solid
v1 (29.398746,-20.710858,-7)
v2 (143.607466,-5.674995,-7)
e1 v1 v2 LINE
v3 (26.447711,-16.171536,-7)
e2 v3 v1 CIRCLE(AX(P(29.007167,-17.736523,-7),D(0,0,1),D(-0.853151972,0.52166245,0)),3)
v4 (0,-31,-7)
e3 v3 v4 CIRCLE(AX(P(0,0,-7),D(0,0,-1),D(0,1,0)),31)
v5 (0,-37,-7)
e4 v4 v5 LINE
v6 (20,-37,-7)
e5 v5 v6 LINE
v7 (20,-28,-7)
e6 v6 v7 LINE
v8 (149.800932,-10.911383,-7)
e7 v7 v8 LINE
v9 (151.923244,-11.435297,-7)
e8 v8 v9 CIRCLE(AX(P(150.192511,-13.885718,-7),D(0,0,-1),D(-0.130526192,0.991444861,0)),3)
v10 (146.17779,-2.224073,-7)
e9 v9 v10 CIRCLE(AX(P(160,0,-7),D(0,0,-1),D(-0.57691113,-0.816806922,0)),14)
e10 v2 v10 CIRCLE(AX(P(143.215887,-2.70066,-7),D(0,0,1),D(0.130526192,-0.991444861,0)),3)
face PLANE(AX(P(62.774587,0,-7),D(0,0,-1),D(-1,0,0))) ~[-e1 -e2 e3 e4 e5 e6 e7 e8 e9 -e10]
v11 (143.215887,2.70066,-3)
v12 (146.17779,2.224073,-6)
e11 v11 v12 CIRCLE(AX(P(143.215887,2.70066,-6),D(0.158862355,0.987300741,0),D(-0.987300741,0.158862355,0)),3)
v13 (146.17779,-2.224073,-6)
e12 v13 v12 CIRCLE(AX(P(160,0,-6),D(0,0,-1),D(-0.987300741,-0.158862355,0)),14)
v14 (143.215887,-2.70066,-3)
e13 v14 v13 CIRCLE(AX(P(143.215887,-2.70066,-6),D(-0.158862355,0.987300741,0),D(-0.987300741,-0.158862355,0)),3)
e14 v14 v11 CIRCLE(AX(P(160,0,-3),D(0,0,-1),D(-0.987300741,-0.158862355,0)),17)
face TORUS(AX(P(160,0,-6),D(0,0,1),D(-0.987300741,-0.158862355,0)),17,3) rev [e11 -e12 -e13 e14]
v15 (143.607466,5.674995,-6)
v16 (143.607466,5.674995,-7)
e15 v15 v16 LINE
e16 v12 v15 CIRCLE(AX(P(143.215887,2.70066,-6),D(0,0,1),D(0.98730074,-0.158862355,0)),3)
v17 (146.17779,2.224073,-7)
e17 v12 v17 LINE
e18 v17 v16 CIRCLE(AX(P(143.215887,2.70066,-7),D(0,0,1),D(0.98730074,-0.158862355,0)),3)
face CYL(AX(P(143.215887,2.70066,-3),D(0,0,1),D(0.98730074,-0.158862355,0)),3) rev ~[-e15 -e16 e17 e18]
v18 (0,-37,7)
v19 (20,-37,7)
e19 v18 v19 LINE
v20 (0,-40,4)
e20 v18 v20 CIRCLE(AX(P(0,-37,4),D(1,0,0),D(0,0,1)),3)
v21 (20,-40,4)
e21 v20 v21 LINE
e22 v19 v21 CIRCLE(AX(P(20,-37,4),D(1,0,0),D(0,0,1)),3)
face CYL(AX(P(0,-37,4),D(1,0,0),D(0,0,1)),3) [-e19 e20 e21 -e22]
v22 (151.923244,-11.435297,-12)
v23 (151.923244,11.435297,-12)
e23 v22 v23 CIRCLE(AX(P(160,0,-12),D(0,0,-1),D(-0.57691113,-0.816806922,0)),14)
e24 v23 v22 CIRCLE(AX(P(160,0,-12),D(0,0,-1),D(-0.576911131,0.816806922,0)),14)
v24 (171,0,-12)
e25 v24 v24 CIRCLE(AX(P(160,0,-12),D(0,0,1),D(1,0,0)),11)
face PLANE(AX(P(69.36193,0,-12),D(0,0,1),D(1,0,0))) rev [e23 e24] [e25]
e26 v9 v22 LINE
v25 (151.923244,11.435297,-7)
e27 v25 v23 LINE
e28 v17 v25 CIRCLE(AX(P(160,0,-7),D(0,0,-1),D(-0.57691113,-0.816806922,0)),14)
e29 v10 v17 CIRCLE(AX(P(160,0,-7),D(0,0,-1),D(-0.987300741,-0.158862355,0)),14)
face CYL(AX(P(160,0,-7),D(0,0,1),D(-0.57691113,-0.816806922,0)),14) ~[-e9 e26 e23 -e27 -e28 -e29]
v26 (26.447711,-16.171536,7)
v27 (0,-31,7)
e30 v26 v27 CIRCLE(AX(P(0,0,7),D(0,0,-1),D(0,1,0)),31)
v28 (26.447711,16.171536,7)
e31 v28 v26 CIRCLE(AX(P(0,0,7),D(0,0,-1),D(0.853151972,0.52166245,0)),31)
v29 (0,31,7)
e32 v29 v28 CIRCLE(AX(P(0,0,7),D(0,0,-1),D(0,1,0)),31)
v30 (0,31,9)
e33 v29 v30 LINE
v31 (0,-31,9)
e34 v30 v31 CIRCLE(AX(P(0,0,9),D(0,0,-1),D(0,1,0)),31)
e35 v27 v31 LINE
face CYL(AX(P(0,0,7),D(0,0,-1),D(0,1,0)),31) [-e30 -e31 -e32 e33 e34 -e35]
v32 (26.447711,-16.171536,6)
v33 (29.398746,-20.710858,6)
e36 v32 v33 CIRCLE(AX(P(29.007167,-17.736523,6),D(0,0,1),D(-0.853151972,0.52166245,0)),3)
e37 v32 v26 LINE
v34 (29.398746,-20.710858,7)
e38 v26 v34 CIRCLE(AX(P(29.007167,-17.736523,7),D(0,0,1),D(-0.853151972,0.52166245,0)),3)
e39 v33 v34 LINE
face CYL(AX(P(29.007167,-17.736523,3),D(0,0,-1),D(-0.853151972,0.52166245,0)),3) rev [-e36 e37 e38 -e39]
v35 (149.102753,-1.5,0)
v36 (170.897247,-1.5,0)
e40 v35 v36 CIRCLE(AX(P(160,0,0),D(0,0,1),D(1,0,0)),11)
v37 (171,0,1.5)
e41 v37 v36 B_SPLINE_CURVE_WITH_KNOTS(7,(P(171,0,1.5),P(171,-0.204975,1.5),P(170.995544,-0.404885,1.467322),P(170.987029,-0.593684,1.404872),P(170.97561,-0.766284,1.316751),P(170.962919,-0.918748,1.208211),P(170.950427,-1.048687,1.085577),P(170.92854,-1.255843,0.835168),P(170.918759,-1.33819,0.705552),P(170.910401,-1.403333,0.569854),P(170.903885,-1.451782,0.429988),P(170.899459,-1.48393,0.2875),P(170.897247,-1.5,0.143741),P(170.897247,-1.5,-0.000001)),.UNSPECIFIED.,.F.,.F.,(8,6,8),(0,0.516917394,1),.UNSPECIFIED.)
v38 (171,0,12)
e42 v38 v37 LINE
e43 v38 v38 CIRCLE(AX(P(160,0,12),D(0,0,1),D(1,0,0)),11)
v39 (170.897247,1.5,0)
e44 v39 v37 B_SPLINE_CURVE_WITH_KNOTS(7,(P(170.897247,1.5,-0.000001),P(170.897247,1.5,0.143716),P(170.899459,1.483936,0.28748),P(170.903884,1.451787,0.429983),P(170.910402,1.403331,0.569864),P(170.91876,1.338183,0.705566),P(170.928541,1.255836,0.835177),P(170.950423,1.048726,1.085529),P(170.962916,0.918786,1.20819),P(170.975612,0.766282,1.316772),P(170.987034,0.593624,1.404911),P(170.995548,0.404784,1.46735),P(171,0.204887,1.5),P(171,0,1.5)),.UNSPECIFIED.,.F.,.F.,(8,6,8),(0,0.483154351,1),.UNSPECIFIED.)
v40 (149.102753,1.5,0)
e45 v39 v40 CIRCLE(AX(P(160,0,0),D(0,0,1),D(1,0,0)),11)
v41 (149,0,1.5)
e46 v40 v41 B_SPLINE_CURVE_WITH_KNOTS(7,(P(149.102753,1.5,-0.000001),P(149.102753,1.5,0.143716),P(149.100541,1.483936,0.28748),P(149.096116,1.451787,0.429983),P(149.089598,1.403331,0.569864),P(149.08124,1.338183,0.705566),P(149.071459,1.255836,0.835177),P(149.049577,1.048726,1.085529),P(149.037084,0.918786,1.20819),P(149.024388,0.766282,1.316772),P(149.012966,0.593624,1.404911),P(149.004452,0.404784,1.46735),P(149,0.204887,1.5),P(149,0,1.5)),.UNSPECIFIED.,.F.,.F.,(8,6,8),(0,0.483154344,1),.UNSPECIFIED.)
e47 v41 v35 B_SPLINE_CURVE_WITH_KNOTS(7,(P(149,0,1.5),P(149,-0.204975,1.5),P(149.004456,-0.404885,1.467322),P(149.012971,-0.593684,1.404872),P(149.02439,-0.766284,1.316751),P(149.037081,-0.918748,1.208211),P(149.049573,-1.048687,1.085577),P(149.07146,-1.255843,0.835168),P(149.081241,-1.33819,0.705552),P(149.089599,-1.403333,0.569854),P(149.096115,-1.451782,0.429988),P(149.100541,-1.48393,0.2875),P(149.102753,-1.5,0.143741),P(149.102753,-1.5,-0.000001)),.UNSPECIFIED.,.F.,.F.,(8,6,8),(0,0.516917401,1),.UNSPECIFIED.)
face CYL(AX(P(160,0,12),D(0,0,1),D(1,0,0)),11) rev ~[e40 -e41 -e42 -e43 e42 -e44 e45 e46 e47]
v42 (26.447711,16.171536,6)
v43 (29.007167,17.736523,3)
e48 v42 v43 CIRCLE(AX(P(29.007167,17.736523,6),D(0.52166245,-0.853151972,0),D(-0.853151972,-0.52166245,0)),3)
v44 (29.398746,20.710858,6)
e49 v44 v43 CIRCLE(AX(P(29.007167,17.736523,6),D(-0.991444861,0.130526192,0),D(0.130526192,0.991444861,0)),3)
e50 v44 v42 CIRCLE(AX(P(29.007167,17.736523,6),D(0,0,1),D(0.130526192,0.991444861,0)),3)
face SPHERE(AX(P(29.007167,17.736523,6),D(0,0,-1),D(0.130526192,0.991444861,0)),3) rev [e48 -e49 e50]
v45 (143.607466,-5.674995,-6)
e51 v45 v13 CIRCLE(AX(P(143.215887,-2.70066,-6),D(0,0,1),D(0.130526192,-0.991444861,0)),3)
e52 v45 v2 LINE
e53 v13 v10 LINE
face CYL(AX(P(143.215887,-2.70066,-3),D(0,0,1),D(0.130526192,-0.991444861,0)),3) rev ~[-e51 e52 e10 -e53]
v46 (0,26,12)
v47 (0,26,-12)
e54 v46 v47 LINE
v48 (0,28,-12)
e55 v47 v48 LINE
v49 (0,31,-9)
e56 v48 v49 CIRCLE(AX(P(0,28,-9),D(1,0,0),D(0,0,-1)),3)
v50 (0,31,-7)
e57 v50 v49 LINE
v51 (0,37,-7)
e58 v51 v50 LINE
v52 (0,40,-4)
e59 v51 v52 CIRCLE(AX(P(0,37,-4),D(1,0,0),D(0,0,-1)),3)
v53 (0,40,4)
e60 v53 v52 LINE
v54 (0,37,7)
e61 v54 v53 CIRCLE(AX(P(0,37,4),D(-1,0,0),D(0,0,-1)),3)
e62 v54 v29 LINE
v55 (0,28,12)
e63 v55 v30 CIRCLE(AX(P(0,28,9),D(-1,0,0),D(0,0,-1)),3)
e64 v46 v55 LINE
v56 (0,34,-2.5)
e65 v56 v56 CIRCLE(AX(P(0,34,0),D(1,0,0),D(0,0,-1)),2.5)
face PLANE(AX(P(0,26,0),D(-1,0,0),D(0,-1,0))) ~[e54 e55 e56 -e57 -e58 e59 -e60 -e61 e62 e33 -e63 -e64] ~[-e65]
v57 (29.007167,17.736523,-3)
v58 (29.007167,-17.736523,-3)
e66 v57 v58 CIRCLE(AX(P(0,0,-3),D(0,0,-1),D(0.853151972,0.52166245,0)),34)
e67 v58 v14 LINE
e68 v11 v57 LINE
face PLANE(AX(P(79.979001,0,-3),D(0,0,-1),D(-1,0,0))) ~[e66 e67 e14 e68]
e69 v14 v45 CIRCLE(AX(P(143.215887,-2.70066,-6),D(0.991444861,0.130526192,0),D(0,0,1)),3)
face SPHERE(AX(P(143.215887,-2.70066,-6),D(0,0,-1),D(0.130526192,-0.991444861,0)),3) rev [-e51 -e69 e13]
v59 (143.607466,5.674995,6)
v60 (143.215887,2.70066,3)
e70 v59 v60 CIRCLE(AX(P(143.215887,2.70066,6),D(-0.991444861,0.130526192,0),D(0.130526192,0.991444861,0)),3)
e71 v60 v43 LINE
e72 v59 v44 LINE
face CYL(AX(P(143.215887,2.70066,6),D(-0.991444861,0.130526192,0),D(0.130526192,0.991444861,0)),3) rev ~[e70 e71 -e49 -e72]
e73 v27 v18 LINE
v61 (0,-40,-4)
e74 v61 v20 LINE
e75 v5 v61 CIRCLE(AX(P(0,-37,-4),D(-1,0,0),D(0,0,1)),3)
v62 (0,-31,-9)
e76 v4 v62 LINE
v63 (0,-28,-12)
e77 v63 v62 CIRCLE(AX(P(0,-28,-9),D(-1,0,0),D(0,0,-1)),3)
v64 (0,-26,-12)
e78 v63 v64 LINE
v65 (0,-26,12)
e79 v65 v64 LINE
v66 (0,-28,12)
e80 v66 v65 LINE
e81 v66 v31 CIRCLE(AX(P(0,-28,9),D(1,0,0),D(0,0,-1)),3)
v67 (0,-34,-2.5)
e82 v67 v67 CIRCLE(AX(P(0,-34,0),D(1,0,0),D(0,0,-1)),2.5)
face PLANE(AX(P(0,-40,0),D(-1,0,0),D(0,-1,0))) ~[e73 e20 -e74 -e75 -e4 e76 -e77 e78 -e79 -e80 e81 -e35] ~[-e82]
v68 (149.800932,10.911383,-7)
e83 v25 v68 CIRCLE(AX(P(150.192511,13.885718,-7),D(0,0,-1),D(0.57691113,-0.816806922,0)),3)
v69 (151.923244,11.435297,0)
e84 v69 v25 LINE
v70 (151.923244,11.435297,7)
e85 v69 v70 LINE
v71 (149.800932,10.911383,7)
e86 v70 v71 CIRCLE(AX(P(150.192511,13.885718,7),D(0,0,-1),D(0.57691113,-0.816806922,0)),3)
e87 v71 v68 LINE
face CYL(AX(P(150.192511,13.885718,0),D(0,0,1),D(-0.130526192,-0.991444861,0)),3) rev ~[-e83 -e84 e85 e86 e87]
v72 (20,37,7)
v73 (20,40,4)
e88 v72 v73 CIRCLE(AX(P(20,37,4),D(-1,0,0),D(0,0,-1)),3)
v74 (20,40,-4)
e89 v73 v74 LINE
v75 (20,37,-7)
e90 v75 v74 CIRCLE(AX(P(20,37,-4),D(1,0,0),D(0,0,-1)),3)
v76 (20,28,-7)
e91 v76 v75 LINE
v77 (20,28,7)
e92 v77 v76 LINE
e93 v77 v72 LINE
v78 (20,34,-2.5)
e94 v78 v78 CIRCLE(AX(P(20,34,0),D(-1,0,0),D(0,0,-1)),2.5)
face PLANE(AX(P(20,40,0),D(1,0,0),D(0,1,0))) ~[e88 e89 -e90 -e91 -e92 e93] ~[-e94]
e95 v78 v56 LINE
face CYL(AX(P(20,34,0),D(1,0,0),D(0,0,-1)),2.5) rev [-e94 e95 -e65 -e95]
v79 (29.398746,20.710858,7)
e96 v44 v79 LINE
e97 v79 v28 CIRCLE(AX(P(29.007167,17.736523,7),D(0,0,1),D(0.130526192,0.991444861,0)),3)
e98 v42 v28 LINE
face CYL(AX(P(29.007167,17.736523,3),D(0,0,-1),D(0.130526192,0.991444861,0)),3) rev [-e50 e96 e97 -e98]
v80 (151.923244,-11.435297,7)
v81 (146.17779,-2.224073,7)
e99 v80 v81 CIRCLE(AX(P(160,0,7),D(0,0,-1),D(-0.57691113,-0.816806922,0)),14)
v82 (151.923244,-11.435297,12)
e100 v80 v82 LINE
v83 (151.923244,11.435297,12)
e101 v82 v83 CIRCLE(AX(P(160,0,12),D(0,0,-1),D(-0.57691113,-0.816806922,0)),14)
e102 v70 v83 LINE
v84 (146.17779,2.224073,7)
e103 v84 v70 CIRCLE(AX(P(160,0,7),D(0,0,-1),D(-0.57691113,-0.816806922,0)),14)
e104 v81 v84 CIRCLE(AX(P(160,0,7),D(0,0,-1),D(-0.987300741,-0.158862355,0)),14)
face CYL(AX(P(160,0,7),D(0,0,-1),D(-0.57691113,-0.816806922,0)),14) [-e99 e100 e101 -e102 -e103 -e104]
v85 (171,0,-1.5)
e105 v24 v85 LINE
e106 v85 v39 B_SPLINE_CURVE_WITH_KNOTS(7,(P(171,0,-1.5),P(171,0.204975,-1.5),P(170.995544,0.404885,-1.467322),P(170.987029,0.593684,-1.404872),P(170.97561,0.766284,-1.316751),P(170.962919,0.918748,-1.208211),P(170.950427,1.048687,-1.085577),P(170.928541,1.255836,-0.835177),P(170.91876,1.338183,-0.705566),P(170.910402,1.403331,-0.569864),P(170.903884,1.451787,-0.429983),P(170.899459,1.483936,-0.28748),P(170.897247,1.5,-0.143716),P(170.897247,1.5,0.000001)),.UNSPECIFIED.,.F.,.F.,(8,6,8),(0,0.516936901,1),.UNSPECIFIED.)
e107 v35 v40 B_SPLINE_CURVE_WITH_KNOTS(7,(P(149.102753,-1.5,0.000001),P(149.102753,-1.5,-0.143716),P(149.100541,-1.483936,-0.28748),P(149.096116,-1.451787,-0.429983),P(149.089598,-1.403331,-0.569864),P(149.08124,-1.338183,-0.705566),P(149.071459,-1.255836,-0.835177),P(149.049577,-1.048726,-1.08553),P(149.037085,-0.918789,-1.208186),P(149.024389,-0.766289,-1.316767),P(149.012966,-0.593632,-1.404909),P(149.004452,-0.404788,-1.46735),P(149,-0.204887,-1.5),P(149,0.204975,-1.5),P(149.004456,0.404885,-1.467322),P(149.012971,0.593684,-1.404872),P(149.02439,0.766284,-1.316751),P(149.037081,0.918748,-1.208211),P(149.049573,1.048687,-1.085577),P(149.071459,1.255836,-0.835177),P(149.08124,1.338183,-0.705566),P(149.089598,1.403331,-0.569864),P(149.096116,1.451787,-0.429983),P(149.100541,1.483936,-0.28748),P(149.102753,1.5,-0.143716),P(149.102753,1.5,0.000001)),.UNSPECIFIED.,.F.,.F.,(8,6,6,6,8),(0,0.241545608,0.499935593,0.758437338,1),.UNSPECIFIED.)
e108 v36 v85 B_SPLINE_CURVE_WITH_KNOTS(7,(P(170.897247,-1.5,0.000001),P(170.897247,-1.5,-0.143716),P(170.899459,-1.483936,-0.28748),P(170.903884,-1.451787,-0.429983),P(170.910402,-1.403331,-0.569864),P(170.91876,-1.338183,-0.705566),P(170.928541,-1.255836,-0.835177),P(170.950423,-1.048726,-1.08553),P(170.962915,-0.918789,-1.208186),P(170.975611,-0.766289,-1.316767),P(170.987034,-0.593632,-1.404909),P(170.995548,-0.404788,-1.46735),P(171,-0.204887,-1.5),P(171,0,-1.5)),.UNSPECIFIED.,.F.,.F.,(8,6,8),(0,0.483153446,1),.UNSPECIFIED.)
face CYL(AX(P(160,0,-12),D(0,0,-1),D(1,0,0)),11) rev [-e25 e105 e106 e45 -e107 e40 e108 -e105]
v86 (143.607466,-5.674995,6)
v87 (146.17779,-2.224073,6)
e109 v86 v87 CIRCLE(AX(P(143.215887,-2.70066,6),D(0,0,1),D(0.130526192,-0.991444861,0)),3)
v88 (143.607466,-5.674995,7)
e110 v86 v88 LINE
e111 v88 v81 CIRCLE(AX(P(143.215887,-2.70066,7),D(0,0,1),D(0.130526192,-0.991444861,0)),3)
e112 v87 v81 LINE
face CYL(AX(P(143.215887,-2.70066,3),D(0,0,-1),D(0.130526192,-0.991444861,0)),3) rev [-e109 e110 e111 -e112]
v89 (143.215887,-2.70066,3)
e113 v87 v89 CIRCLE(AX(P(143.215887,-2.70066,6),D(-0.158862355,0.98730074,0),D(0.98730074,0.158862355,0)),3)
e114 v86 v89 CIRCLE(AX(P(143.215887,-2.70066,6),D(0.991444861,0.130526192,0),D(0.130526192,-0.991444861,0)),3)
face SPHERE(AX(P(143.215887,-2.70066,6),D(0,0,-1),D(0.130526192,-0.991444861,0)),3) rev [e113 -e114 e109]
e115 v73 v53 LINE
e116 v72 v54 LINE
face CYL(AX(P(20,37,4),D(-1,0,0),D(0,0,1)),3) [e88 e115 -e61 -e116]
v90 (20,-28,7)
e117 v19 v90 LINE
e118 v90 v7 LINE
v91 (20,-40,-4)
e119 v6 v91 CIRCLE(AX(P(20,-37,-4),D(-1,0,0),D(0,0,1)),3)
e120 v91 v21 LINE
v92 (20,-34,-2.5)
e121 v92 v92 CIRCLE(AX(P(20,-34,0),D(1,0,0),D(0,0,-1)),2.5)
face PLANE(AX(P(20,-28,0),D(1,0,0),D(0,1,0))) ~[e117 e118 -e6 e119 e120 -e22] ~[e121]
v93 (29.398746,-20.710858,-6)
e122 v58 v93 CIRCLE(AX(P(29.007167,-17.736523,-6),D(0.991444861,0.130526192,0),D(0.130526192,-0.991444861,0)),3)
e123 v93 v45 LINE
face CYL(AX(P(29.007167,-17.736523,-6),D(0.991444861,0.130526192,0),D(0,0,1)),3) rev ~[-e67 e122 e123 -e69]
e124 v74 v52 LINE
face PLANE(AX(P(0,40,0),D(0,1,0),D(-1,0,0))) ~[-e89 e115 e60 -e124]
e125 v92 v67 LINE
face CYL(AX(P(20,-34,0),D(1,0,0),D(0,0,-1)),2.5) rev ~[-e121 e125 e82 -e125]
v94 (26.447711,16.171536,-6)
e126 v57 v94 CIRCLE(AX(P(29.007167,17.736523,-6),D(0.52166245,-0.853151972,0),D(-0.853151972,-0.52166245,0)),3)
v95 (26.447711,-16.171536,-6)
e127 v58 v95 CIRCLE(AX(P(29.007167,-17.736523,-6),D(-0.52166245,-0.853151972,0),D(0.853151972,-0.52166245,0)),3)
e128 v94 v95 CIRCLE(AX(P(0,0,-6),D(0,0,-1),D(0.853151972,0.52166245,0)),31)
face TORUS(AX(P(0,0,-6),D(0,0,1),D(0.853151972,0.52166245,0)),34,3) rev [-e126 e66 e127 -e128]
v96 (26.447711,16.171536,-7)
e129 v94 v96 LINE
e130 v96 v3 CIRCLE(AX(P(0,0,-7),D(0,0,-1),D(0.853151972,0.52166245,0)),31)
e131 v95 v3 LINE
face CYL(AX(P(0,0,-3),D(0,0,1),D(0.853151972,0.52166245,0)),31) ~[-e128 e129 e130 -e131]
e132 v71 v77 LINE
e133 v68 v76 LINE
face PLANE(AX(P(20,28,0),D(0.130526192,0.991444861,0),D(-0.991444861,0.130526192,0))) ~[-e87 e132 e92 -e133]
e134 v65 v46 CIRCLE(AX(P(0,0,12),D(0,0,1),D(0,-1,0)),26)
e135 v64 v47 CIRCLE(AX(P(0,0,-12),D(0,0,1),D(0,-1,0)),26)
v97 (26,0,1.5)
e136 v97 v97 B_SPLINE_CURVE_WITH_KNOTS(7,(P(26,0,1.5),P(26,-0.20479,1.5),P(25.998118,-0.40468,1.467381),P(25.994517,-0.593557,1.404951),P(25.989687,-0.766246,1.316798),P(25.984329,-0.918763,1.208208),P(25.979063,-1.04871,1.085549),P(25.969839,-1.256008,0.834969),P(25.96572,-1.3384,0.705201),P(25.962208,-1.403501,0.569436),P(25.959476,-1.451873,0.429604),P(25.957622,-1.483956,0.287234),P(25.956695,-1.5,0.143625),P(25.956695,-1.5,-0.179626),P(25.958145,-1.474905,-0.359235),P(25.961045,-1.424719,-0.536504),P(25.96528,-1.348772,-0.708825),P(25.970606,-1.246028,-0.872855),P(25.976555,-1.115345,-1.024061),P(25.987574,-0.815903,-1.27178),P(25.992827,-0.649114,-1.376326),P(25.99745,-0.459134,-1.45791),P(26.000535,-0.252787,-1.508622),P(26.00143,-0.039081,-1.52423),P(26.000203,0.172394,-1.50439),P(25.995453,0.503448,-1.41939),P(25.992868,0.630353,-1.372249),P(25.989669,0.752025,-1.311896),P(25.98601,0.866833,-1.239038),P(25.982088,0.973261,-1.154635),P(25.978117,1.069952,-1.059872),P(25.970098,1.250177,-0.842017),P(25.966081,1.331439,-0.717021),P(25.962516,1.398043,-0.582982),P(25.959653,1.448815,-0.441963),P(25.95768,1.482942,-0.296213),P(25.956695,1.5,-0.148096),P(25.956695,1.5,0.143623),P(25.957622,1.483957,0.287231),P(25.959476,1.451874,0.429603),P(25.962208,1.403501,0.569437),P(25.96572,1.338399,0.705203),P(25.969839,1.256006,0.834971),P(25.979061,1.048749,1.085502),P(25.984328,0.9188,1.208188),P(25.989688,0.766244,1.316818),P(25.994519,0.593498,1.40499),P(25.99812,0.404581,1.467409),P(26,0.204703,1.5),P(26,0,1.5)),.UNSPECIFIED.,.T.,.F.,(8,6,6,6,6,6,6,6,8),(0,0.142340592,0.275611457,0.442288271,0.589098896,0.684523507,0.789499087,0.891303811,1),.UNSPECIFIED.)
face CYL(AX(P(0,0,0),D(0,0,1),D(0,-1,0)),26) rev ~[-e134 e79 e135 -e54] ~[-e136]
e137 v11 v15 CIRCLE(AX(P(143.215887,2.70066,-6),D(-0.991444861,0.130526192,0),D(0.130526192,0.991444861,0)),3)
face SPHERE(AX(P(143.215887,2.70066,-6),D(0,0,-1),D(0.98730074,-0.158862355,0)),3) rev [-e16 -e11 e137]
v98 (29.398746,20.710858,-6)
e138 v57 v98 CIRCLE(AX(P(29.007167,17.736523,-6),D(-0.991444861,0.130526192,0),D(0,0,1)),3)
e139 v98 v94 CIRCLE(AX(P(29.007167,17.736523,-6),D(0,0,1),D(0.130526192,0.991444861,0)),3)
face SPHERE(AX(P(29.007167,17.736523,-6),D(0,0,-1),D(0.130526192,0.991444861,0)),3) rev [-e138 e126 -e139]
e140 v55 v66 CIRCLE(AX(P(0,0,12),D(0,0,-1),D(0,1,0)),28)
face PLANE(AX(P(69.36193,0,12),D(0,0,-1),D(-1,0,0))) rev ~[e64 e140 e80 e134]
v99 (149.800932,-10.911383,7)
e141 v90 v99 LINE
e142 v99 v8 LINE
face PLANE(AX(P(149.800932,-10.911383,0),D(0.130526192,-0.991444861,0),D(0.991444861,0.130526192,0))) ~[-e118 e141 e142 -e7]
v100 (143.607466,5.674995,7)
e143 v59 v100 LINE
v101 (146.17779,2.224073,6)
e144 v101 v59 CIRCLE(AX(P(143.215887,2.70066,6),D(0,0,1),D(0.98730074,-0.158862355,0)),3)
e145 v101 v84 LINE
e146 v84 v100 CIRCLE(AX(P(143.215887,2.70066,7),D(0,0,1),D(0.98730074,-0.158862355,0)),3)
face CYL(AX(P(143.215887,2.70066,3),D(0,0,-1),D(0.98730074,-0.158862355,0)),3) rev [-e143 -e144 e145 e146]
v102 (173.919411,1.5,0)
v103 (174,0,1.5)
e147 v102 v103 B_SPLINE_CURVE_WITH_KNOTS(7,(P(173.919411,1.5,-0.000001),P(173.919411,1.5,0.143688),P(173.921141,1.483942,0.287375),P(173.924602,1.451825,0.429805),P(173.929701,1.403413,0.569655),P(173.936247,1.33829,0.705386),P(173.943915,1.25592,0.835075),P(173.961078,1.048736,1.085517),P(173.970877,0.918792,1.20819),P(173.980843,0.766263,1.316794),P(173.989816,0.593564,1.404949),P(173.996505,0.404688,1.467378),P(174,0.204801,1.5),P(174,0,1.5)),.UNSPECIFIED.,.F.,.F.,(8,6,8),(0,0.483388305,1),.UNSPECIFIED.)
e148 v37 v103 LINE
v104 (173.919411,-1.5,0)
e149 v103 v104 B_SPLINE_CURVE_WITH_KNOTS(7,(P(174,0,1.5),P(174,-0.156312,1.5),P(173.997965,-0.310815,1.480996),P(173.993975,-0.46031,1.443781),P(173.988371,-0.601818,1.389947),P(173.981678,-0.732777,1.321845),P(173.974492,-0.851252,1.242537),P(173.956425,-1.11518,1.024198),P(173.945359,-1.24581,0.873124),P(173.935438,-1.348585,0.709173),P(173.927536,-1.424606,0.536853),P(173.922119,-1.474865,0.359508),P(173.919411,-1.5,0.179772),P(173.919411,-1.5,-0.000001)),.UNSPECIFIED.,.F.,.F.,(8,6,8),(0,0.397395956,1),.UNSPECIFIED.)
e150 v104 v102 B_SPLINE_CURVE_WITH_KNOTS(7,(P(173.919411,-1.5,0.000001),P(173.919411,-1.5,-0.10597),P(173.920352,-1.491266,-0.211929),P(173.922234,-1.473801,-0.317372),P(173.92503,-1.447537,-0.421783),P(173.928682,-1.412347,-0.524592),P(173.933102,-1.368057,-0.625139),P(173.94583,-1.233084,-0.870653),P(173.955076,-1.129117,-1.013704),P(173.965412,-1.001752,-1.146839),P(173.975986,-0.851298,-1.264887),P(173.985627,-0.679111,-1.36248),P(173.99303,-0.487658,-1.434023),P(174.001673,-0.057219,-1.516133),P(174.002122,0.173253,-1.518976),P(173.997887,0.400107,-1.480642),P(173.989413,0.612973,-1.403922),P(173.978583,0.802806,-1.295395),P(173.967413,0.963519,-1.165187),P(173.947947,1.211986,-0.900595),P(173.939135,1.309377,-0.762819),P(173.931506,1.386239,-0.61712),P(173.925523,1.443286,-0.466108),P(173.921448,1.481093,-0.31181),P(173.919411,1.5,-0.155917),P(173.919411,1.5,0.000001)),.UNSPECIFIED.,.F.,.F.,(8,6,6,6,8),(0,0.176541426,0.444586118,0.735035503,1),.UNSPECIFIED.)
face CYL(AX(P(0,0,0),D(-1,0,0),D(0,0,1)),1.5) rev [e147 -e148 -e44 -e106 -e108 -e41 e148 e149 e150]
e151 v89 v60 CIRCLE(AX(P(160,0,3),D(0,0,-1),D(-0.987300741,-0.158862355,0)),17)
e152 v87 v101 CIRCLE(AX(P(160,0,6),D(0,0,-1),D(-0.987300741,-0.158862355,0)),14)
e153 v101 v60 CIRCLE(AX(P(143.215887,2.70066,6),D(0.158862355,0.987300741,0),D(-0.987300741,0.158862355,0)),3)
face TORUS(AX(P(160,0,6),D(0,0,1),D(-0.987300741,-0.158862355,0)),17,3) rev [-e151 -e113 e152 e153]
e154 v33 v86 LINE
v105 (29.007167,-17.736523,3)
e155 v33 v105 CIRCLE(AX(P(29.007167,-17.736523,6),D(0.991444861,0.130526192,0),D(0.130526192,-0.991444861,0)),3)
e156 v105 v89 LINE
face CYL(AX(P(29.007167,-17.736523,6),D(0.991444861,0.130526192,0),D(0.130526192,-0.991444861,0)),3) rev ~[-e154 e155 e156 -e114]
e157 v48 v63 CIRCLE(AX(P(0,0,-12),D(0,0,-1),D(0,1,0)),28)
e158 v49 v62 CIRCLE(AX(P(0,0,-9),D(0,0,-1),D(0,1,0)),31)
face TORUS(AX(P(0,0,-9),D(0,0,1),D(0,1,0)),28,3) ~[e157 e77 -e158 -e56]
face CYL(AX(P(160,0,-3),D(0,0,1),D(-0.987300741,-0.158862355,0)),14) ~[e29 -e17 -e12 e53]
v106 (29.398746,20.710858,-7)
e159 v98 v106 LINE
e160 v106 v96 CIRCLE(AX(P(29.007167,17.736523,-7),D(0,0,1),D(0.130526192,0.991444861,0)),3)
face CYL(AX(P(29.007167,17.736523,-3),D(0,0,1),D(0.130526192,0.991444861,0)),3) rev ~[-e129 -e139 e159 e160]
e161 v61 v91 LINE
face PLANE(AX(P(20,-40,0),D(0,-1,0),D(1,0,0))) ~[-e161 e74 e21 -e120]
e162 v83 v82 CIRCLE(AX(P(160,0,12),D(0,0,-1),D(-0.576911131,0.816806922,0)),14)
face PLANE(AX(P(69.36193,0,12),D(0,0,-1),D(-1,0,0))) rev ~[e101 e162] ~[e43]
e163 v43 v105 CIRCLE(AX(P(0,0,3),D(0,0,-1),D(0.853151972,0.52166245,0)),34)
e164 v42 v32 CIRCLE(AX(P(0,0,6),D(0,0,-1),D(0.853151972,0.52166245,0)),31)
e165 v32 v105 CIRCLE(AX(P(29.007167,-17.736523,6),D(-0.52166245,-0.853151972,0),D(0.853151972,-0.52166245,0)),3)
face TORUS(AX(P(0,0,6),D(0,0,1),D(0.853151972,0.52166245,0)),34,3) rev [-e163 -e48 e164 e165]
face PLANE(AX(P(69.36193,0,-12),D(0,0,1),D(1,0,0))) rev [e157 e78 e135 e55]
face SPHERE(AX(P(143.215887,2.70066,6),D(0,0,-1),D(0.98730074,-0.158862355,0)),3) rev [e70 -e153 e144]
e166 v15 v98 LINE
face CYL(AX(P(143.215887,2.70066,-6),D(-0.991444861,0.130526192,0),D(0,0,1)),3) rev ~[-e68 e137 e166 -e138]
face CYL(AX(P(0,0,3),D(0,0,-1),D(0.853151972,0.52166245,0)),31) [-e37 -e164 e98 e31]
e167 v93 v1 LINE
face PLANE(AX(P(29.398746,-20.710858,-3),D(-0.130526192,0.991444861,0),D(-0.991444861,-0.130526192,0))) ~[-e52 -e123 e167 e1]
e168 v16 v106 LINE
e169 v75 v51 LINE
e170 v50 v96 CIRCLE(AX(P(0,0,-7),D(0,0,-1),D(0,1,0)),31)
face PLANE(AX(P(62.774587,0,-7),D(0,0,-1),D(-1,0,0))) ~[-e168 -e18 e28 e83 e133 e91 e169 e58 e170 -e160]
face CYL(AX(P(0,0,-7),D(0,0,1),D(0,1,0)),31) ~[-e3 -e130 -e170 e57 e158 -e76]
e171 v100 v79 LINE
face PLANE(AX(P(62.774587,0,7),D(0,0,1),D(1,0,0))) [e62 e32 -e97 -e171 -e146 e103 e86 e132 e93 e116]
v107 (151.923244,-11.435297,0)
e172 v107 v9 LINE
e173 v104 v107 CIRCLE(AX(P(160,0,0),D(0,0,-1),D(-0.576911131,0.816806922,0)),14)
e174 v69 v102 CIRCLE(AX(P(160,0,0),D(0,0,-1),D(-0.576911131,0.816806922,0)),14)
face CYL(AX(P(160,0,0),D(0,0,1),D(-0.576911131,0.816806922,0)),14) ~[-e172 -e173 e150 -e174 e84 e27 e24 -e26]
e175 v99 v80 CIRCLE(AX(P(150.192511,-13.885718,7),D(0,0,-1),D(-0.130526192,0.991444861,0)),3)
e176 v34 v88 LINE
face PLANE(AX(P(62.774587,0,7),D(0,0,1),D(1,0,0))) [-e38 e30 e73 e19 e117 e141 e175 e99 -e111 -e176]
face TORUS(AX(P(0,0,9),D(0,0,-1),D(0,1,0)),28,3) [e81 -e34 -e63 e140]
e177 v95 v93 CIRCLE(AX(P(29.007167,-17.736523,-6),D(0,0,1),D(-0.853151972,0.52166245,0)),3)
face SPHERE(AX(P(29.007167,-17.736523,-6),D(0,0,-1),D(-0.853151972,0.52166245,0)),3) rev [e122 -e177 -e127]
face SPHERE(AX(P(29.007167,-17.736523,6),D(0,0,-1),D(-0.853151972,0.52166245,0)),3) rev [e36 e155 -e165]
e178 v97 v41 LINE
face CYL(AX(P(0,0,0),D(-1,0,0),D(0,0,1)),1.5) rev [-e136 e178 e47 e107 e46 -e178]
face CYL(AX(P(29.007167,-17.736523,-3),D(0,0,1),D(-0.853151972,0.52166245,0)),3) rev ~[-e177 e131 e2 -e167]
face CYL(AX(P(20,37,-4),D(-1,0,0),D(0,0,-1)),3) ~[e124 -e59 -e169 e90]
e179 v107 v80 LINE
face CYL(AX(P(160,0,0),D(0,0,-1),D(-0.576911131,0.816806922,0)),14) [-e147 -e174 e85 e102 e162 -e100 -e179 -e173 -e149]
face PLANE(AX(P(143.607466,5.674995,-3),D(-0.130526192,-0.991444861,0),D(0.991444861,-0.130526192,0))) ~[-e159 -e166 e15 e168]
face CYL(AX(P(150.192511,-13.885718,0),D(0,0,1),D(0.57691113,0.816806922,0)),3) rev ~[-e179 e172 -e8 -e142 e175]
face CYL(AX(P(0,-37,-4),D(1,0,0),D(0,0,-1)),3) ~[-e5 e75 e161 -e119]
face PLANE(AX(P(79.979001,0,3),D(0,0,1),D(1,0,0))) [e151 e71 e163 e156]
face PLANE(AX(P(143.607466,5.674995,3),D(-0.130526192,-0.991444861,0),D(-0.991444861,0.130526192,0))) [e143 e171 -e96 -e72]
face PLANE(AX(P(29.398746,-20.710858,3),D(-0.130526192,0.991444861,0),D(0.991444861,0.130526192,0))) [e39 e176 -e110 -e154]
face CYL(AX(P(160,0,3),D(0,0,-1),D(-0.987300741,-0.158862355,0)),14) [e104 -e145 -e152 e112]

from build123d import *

# Parameters (mm, degrees)
EXTRUDE_1_DEPTH     = 12
SKETCH_3_R          = 11
CUT_EXTRUDE_1_DEPTH = 179.941331168
CUT_EXTRUDE_START   = -5
CUT_EXTRUDE_2_DEPTH = 5
CUT_EXTRUDE_START_2 = -4
CUT_EXTRUDE_3_DEPTH = 4
SKETCH_6_R          = 2.5
CUT_EXTRUDE_4_DEPTH = 160.561900214
FILLET_1_R          = 3
FILLET_2_R          = 3
SKETCH_7_R          = 1.5
CUT_EXTRUDE_6_DEPTH = 179.941331168


with BuildPart() as part:
    # 草图1 → 拉伸1 (new body)
    with BuildSketch(Plane.XY):
        with BuildLine():
            Line((0, -40), (0, -26))
            ThreePointArc((0, -26), (26, 0), (0, 26))
            Line((0, 26), (0, 40))
            Line((0, 40), (20, 40))
            Line((20, 40), (20, 28))
            Line((20, 28), (149.800932204, 10.911383086))
            ThreePointArc((149.800932204, 10.911383086), (150.911506836, 10.973150989), (151.923244173, 11.435296905))
            ThreePointArc((151.923244173, 11.435296905), (174, 0), (151.923244173, -11.435296905))
            ThreePointArc((151.923244173, -11.435296905), (150.911506836, -10.973150989), (149.800932204, -10.911383086))
            Line((149.800932204, -10.911383086), (20, -28))
            Line((20, -28), (20, -40))
            Line((20, -40), (0, -40))
        make_face()
    extrude(amount=EXTRUDE_1_DEPTH)

    # 草图3 → 切除-拉伸1 (cut, through all)
    with BuildSketch(Plane.XY.offset(12)):
        with Locations((160, 0)):
            Circle(SKETCH_3_R)
    extrude(amount=-CUT_EXTRUDE_1_DEPTH, mode=Mode.SUBTRACT)

    # 草图4 → 切除-拉伸2 (cut)
    with BuildSketch(Plane.XY.offset(12).offset(CUT_EXTRUDE_START)):
        with BuildLine():
            Line((0, 40), (0, 31))
            ThreePointArc((0, 31), (31, 0), (0, -31))
            Line((0, -31), (0, -40))
            Line((0, -40), (20, -40))
            Line((20, -40), (20, -28))
            Line((20, -28), (149.800932204, -10.911383086))
            ThreePointArc((149.800932204, -10.911383086), (150.911506836, -10.973150989), (151.923244173, -11.435296905))
            ThreePointArc((151.923244173, -11.435296905), (146, 0), (151.923244173, 11.435296905))
            ThreePointArc((151.923244173, 11.435296905), (150.911506836, 10.973150989), (149.800932204, 10.911383086))
            Line((149.800932204, 10.911383086), (20, 28))
            Line((20, 28), (20, 40))
            Line((20, 40), (0, 40))
        make_face()
    extrude(amount=CUT_EXTRUDE_2_DEPTH, mode=Mode.SUBTRACT)

    # 草图5 → 切除-拉伸3 (cut)
    with BuildSketch(Plane.XY.offset(7).offset(CUT_EXTRUDE_START_2)):
        with BuildLine():
            Line((143.607465988, 5.674994619), (29.398745634, 20.7108579))
            ThreePointArc((29.398745634, 20.7108579), (26.491956539, 19.371673477), (26.44771114, 16.171535964))
            ThreePointArc((26.44771114, 16.171535964), (31, 0), (26.44771114, -16.171535964))
            ThreePointArc((26.44771114, -16.171535964), (26.491956539, -19.371673477), (29.398745634, -20.7108579))
            Line((29.398745634, -20.7108579), (143.607465988, -5.674994619))
            ThreePointArc((143.607465988, -5.674994619), (145.621853626, -4.492677495), (146.177789633, -2.22407297))
            ThreePointArc((146.177789633, -2.22407297), (146, 0), (146.177789633, 2.22407297))
            ThreePointArc((146.177789633, 2.22407297), (145.621853626, 4.492677495), (143.607465988, 5.674994619))
        make_face()
    extrude(amount=CUT_EXTRUDE_3_DEPTH, mode=Mode.SUBTRACT)

    # 镜向1: part across plane


with BuildPart() as part_1:
    add(part.part)
    add(part.part.mirror(Plane.XY))

    # 草图6 → 切除-拉伸4 (cut, through all)
    with BuildSketch(Plane(origin=(20, 0, 0), x_dir=(0, 0, -1), z_dir=(1, 0, 0))):
        with Locations((0, -34)):
            Circle(SKETCH_6_R)
    cut_extrude_4 = extrude(amount=-CUT_EXTRUDE_4_DEPTH, mode=Mode.SUBTRACT)

    # 镜向2: 切除-拉伸4 across plane
    add(cut_extrude_4.mirror(Plane.ZX), mode=Mode.SUBTRACT)

    # 圆角1
    fillet_1_edges = [part_1.edges().sort_by_distance(p)[0] for p in [
        (10, 40, 7),
        (10, -40, 7),
        (31, 0, 12),
        (26.491956539, 19.371673477, 3),
        (86.503105811, 13.192926259, 3),
        (145.621853626, 4.492677495, 3),
        (146, 0, 3),
        (145.621853626, -4.492677495, 3),
        (86.503105811, -13.192926259, 3),
        (26.491956539, -19.371673477, 3),
        (31, 0, 3),
    ]]
    fillet(fillet_1_edges, radius=FILLET_1_R)

    # 圆角2
    fillet_2_edges = [part_1.edges().sort_by_distance(p)[0] for p in [
        (10, 40, -7),
        (10, -40, -7),
        (146, 0, -3),
        (31, 0, -12),
        (31, 0, -3),
        (26.491956539, 19.371673477, -3),
        (86.503105811, 13.192926259, -3),
        (145.621853626, 4.492677495, -3),
        (145.621853626, -4.492677495, -3),
        (86.503105811, -13.192926259, -3),
        (26.491956539, -19.371673477, -3),
    ]]
    fillet(fillet_2_edges, radius=FILLET_2_R)

    # 草图7 → 切除-拉伸6 (cut, through all)
    with BuildSketch(Plane(origin=(0, 0, 0), x_dir=(0, 0, -1), z_dir=(1, 0, 0))):
        with Locations(Location((0, 0, 0), (0, 0, 180))):
            Circle(SKETCH_7_R)
    extrude(amount=CUT_EXTRUDE_6_DEPTH, mode=Mode.SUBTRACT)


solid = part_1.part
